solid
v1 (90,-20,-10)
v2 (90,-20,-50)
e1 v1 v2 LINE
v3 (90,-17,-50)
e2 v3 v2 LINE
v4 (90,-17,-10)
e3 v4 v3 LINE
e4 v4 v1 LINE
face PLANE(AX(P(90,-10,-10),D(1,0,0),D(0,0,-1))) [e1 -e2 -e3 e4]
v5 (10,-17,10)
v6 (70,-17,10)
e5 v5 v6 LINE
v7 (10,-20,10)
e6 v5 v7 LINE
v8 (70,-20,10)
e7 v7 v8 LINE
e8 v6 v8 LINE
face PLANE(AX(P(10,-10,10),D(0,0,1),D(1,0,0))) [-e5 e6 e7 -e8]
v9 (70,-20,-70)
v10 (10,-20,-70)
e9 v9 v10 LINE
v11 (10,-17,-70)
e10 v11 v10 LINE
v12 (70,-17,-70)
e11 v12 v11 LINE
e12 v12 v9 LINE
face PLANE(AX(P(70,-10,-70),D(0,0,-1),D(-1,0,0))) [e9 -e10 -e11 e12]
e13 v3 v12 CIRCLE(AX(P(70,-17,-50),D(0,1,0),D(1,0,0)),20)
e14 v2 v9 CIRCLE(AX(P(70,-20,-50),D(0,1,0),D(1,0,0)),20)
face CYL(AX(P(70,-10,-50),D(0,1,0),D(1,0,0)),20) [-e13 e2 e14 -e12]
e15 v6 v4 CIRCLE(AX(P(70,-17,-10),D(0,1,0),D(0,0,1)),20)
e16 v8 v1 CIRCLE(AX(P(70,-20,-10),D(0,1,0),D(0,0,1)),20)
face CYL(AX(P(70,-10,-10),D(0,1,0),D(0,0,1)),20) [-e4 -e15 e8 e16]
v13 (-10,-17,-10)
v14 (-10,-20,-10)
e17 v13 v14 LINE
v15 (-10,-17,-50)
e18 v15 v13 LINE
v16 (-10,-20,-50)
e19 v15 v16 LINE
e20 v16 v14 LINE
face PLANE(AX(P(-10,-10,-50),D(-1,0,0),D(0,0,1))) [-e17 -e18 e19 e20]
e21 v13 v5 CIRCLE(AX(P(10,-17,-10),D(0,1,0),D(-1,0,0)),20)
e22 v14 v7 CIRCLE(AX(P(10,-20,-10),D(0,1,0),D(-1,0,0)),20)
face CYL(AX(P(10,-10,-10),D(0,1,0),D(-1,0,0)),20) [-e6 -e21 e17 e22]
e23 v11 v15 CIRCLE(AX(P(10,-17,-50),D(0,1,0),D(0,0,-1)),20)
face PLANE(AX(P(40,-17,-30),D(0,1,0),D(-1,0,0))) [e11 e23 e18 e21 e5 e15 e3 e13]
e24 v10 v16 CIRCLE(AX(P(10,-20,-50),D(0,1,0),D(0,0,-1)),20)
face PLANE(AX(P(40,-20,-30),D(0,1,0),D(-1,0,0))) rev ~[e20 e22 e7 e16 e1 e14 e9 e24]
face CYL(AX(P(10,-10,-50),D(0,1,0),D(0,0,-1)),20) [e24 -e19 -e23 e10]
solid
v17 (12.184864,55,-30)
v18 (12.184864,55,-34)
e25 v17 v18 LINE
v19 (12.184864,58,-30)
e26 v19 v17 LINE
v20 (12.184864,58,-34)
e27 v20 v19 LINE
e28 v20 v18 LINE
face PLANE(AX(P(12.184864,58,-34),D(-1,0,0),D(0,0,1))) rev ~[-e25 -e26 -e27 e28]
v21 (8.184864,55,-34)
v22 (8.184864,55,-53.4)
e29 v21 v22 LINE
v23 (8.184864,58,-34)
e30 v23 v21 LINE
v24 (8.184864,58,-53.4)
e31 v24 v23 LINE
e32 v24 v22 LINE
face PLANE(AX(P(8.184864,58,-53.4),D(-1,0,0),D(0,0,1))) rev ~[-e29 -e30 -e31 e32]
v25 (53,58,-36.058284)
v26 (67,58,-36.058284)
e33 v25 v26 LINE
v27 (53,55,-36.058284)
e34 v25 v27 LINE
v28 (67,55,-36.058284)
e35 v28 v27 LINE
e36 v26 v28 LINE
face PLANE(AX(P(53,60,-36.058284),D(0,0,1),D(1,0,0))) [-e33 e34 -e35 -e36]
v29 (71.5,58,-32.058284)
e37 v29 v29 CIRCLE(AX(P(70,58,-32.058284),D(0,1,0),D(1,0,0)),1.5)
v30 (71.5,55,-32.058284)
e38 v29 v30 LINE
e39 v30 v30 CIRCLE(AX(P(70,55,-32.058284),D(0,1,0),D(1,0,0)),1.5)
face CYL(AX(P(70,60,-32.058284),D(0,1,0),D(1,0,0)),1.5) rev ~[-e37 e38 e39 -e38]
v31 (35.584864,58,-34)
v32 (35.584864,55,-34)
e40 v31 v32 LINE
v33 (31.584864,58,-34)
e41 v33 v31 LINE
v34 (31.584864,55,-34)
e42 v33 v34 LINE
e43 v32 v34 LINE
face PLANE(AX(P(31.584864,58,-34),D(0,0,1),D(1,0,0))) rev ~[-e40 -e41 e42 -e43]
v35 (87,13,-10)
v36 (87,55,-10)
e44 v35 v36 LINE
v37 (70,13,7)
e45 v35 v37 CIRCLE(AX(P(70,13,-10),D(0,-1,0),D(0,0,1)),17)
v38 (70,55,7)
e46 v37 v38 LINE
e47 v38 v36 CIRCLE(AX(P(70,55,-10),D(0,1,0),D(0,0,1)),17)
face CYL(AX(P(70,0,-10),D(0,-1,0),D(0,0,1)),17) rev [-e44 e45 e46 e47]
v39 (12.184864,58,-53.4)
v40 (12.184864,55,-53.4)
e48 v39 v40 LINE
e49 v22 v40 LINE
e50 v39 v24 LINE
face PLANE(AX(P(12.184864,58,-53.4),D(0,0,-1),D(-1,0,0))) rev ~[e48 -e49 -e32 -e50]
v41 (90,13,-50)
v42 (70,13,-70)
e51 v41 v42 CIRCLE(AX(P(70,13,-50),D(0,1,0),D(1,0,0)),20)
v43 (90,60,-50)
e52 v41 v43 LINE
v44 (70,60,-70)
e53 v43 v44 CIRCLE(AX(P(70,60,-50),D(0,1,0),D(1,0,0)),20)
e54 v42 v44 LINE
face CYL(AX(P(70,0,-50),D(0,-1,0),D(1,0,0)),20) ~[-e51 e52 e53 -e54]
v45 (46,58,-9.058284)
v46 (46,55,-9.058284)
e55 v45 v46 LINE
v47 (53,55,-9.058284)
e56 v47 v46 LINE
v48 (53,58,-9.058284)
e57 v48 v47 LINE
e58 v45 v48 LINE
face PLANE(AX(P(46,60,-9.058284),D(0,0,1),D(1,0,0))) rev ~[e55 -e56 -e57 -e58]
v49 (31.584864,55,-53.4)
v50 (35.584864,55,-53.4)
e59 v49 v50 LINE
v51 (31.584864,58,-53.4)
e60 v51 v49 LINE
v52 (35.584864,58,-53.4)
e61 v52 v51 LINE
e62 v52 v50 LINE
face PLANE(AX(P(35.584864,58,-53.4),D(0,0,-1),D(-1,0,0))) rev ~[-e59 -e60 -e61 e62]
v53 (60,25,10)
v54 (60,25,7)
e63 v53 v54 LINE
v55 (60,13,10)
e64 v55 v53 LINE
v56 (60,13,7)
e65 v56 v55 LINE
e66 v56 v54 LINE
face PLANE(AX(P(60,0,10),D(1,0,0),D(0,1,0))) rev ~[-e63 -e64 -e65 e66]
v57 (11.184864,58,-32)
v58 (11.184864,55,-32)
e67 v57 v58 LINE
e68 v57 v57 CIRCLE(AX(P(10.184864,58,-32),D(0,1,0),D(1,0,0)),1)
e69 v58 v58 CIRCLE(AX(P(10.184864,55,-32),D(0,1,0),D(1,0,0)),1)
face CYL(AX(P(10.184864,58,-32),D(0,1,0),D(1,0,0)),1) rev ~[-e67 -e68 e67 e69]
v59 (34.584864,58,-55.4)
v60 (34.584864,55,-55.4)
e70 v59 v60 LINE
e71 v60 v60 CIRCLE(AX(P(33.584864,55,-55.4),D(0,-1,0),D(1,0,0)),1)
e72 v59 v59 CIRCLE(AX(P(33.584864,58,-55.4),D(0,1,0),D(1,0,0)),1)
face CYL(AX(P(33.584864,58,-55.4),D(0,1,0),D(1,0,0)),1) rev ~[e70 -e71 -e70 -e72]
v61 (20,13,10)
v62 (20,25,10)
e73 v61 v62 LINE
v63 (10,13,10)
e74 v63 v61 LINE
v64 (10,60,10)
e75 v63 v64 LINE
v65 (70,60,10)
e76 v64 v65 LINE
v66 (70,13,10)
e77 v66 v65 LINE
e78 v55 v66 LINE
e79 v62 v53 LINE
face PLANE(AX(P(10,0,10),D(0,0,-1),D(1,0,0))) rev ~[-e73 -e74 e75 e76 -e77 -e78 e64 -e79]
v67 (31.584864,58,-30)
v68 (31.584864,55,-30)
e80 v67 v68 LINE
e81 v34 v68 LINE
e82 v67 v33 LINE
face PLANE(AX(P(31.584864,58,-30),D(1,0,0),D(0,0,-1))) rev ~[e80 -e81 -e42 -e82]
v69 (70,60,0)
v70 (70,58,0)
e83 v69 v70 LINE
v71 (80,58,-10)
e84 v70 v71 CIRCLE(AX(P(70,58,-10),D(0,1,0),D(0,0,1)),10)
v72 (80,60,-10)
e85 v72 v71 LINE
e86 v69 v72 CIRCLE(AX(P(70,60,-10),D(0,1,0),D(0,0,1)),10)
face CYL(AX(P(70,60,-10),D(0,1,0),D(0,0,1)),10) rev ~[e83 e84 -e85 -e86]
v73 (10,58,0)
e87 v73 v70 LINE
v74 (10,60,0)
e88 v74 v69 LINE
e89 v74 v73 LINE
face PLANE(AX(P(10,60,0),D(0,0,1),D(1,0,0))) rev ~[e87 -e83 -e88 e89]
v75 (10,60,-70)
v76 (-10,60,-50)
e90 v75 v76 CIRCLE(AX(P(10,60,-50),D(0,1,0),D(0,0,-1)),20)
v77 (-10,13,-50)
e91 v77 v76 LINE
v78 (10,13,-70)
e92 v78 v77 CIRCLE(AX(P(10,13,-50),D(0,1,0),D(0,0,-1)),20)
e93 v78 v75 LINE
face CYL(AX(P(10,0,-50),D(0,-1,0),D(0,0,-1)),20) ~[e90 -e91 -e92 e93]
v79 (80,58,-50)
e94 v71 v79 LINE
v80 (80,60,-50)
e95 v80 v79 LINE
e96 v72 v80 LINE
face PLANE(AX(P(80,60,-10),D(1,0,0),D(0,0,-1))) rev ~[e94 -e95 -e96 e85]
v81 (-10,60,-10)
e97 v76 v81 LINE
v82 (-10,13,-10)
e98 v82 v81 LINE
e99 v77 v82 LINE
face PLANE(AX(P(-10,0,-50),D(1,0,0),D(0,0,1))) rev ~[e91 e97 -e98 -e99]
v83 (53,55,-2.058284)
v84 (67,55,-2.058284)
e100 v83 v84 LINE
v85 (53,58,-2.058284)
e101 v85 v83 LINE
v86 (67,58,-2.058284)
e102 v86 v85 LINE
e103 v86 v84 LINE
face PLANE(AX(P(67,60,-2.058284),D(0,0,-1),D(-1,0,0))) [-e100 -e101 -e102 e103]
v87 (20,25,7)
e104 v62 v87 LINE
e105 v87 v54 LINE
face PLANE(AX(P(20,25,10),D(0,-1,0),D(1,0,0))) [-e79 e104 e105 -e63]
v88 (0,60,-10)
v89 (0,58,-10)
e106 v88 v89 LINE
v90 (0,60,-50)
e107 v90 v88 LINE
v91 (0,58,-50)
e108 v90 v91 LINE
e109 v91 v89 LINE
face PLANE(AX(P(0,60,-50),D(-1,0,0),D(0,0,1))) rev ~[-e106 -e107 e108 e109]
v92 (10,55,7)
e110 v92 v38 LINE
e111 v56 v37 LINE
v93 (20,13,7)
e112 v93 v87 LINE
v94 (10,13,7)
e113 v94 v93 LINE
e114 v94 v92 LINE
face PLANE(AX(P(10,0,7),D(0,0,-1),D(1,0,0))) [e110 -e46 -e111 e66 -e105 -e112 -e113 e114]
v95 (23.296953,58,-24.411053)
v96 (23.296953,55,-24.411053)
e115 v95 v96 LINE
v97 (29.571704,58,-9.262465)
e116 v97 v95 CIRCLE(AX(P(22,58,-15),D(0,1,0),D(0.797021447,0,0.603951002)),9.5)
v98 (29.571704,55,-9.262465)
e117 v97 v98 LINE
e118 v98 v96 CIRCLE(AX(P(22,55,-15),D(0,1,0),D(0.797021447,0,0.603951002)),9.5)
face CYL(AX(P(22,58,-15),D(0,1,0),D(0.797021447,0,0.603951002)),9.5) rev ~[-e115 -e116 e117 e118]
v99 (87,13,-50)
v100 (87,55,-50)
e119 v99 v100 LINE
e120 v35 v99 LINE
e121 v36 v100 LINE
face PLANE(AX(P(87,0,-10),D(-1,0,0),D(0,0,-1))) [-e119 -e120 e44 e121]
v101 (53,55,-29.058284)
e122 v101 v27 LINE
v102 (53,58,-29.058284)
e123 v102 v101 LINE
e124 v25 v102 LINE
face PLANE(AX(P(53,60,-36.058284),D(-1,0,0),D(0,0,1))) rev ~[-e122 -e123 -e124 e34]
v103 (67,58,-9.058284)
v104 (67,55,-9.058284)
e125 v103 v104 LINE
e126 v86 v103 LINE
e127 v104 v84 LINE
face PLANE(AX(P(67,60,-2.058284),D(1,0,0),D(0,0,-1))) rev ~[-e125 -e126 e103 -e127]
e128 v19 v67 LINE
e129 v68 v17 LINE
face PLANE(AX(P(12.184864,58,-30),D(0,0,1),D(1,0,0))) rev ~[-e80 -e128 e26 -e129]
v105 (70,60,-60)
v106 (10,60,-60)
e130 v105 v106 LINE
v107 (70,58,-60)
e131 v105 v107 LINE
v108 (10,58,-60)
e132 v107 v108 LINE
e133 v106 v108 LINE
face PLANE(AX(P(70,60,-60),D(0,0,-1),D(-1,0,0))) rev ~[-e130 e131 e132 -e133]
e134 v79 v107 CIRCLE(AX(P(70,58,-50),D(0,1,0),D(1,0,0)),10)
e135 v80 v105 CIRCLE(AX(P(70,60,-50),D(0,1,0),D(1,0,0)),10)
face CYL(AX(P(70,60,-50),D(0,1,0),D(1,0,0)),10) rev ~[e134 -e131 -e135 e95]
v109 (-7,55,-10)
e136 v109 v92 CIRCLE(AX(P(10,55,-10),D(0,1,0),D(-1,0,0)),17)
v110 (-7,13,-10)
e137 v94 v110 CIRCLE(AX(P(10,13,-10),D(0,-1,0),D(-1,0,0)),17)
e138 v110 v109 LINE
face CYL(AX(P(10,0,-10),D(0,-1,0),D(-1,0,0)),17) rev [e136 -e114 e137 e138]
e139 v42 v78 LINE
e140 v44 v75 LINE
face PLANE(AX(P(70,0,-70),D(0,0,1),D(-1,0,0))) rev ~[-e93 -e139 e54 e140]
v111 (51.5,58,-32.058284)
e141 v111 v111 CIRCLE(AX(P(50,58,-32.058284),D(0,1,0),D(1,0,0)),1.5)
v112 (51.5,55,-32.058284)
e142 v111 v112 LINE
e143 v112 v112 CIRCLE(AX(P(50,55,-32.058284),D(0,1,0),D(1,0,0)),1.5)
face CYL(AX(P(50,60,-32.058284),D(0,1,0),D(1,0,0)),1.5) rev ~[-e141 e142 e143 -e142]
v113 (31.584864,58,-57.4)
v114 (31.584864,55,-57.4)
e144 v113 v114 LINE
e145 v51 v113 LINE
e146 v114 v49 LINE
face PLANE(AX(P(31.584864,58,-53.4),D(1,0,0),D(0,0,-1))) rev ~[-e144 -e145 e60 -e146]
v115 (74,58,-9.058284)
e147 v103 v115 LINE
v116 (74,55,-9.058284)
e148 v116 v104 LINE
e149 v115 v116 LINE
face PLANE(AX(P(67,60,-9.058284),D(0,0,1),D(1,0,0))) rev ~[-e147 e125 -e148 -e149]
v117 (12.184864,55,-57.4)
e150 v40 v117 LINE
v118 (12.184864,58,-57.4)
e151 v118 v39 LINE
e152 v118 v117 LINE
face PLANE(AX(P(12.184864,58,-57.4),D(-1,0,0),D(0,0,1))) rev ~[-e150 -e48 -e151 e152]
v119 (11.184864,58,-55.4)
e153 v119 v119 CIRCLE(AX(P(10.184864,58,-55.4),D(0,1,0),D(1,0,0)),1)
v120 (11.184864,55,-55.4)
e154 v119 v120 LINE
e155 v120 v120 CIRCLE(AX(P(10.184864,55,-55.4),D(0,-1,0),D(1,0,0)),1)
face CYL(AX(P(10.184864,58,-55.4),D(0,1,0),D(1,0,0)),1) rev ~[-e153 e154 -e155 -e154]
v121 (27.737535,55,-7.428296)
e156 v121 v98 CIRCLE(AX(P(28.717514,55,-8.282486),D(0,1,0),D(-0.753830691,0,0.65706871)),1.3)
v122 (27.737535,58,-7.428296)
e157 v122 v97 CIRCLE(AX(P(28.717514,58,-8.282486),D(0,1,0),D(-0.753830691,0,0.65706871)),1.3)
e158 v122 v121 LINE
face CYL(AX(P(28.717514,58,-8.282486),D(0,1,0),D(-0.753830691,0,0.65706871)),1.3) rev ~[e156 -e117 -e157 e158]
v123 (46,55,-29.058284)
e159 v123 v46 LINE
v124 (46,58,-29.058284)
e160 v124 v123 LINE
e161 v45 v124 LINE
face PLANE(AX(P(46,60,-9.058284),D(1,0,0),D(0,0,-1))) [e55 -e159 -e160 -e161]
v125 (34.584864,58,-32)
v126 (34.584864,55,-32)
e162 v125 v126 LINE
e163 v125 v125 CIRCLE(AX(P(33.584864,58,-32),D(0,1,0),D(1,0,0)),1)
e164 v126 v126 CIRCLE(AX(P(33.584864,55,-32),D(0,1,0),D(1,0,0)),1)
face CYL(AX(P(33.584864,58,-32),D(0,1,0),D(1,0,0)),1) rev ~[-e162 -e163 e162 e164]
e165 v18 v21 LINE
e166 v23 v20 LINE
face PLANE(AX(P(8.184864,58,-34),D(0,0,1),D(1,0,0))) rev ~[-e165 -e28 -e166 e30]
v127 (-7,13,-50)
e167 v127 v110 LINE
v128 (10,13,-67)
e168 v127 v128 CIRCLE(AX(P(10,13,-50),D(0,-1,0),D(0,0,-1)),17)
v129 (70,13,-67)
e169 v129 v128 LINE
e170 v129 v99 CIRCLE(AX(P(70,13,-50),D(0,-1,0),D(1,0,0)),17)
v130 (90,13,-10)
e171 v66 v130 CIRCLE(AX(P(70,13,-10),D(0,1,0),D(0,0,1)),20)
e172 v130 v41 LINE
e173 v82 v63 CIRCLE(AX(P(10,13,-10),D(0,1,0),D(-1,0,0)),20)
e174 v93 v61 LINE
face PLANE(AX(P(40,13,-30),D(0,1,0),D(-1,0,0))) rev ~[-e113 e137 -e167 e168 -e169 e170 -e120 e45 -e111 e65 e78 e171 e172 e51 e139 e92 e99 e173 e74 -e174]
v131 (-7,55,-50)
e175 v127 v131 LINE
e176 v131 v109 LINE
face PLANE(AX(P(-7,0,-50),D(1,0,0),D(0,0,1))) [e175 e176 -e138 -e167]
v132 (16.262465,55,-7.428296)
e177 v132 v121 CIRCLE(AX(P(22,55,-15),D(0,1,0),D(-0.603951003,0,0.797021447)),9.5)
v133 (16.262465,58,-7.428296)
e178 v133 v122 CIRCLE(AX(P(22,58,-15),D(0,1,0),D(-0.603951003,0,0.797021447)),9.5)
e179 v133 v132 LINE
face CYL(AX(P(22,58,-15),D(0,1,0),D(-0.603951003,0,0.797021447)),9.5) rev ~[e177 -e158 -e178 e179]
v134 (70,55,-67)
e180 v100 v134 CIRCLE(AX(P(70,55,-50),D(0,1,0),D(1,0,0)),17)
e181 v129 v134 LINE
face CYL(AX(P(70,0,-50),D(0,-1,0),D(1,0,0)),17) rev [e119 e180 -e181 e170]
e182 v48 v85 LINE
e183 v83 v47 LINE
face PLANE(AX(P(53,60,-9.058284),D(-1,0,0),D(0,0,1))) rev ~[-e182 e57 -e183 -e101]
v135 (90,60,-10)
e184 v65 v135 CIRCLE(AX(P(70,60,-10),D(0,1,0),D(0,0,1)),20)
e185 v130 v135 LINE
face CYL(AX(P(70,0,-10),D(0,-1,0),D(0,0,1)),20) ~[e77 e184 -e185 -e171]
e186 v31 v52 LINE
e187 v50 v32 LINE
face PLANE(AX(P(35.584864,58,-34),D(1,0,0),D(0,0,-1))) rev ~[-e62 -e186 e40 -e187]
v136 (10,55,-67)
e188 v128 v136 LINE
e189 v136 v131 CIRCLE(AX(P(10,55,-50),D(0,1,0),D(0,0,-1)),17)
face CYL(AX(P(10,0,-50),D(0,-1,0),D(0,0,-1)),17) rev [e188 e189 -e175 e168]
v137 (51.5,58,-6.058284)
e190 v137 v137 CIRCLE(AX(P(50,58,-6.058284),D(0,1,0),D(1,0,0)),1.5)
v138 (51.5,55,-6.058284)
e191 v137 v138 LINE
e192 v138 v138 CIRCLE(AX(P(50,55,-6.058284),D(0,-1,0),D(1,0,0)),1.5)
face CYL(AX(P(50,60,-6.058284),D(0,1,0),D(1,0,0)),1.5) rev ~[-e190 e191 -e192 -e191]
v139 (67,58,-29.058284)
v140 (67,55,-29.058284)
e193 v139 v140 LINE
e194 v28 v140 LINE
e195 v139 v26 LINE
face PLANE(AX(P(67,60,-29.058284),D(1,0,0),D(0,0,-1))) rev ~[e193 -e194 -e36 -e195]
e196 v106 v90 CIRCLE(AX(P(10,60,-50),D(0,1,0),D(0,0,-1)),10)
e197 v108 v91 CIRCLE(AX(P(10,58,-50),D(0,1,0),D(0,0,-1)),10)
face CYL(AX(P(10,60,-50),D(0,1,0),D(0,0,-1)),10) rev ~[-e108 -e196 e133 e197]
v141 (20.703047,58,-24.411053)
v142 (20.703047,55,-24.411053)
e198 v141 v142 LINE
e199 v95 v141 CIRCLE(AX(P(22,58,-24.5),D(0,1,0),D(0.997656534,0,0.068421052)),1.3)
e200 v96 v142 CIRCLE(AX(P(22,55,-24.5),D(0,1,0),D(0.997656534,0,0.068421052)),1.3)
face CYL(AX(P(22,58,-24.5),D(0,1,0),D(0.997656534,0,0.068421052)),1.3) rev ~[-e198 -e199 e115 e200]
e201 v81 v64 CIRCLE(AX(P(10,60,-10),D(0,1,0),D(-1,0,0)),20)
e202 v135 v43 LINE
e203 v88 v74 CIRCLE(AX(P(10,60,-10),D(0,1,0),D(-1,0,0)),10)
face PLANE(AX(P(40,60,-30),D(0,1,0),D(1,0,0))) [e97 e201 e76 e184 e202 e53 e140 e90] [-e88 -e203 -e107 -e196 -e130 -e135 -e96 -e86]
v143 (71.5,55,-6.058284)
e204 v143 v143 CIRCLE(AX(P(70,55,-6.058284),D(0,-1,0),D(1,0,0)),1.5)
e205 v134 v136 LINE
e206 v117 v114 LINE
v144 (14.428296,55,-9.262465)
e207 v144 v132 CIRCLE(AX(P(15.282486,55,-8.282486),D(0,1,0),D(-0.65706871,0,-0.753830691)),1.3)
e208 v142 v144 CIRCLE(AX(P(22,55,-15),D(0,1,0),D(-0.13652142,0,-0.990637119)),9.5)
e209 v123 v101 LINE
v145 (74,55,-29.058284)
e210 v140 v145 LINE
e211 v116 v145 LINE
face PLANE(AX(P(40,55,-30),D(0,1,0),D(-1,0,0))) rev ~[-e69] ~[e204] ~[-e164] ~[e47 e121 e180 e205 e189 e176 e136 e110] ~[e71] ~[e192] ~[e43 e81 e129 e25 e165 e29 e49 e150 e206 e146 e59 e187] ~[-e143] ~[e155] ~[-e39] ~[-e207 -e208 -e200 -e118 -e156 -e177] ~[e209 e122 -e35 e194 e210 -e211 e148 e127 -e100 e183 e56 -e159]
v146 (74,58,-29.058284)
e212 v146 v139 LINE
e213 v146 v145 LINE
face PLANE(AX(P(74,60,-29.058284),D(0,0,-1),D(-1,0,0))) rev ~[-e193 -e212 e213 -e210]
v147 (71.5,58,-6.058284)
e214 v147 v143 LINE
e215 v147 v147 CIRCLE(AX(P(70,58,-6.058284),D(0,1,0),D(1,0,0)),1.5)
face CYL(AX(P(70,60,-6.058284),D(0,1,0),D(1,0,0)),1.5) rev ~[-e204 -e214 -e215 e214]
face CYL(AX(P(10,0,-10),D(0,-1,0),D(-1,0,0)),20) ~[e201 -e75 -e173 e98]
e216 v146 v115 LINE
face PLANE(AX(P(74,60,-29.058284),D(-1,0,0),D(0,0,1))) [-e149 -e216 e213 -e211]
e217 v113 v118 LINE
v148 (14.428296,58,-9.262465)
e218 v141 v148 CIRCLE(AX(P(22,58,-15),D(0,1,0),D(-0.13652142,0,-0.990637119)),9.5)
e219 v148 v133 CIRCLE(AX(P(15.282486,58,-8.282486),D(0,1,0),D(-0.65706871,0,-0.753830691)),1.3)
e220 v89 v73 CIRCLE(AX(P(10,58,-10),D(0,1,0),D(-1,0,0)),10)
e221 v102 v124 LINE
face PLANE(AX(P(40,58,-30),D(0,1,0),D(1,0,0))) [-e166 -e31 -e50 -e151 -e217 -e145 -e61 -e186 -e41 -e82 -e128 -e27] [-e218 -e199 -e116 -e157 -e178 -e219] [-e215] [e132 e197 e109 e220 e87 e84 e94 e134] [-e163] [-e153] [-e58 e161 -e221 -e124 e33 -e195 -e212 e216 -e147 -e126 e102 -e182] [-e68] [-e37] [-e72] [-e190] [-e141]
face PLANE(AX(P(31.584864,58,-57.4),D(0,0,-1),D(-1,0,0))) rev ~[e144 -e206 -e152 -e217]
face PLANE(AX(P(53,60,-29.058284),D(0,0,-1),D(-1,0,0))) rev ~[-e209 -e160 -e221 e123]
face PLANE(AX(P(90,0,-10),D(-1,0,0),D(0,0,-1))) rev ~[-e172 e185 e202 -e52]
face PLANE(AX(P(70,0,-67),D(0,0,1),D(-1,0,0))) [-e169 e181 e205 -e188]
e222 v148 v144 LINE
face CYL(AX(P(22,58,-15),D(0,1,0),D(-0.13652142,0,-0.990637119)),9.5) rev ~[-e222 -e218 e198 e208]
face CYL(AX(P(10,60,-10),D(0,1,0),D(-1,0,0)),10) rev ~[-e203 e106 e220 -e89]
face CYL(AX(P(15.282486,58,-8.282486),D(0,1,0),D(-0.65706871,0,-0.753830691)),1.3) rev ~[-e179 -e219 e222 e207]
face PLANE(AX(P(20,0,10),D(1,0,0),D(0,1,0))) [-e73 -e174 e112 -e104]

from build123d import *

# Parameters (mm, degrees)
EXTRUDE_1_DEPTH       = 60
EXTRUDE_1_2_DEPTH     = 10
CUT_EXTRUDE_2_DEPTH   = 2
SKETCH_3_R            = 1.5
CUT_EXTRUDE_5_DEPTH   = 61
CUT_EXTRUDE_6_DEPTH   = 59
SKETCH_7_R            = 1
CUT_EXTRUDE_7_DEPTH   = 59
SKETCH_8_W            = 40
SKETCH_8_H            = 25
CUT_EXTRUDE_8_DEPTH   = 10
EXTRUDE_START         = 10
EXTRUDE_2_DEPTH       = 10
EXTRUDE_5_DEPTH       = 10
CUT_EXTRUDE_START     = -5
CUT_EXTRUDE_10_DEPTH  = 10
CUT_EXTRUDE_3_DEPTH   = 55
CUT_EXTRUDE_START_2   = 10
SKETCH_9_8_W          = 60
SKETCH_9_8_H          = 40
CUT_EXTRUDE_4_DEPTH   = 5
CUT_EXTRUDE_12_DEPTH  = 5
CUT_EXTRUDE_5_2_DEPTH = 55
CUT_EXTRUDE_6_2_DEPTH = 13
CUT_EXTRUDE_13_DEPTH  = 7
CUT_EXTRUDE_7_2_DEPTH = 17


with BuildPart() as part:
    # 草图1 → Extrude 1 (new body)
    with BuildSketch(Plane(origin=(0, 0, 0), x_dir=(1, 0, 0), z_dir=(0, 1, 0))):
        with BuildLine():
            Line((10, -10), (70, -10))
            ThreePointArc((70, -10), (84.142135624, -4.142135624), (90, 10))
            Line((90, 10), (90, 50))
            ThreePointArc((90, 50), (84.142135624, 64.142135624), (70, 70))
            Line((70, 70), (10, 70))
            ThreePointArc((10, 70), (-4.142135624, 64.142135624), (-10, 50))
            Line((-10, 50), (-10, 10))
            ThreePointArc((-10, 10), (-4.142135624, -4.142135624), (10, -10))
        make_face()
        with BuildLine():
            Line((10, 0), (70, 0))
            ThreePointArc((70, 0), (77.071067812, 2.928932188), (80, 10))
            Line((80, 10), (80, 50))
            ThreePointArc((80, 50), (77.071067812, 57.071067812), (70, 60))
            Line((70, 60), (10, 60))
            ThreePointArc((10, 60), (2.928932188, 57.071067812), (0, 50))
            Line((0, 50), (0, 10))
            ThreePointArc((0, 10), (2.928932188, 2.928932188), (10, 0))
        make_face(mode=Mode.SUBTRACT)
    extrude(amount=EXTRUDE_1_DEPTH)

    # 草图2 → Extrude 1 2 (add)
    with BuildSketch(Plane(origin=(0, 60, 0), x_dir=(1, 0, 0), z_dir=(0, 1, 0))):
        with BuildLine():
            Line((10, 0), (70, 0))
            ThreePointArc((70, 0), (77.071067812, 2.928932188), (80, 10))
            Line((80, 10), (80, 50))
            ThreePointArc((80, 50), (77.071067812, 57.071067812), (70, 60))
            Line((70, 60), (10, 60))
            ThreePointArc((10, 60), (2.928932188, 57.071067812), (0, 50))
            Line((0, 50), (0, 10))
            ThreePointArc((0, 10), (2.928932188, 2.928932188), (10, 0))
        make_face()
    extrude(amount=-EXTRUDE_1_2_DEPTH)

    # 草图2<6> → 切除-拉伸2 (cut)
    with BuildSketch(Plane(origin=(0, 60, 0), x_dir=(1, 0, 0), z_dir=(0, 1, 0))):
        with BuildLine():
            Line((10, 0), (70, 0))
            ThreePointArc((70, 0), (77.071067812, 2.928932188), (80, 10))
            Line((80, 10), (80, 50))
            ThreePointArc((80, 50), (77.071067812, 57.071067812), (70, 60))
            Line((70, 60), (10, 60))
            ThreePointArc((10, 60), (2.928932188, 57.071067812), (0, 50))
            Line((0, 50), (0, 10))
            ThreePointArc((0, 10), (2.928932188, 2.928932188), (10, 0))
        make_face()
    extrude(amount=-CUT_EXTRUDE_2_DEPTH, mode=Mode.SUBTRACT)

    # 草图3 → Cut-Extrude 5 (cut, through all)
    with BuildSketch(Plane(origin=(0, 60, 0), x_dir=(1, 0, 0), z_dir=(0, 1, 0))):
        with Locations((50, 6.058283931)):
            Circle(SKETCH_3_R)
        with Locations((70, 32.058283931)):
            Circle(SKETCH_3_R)
        with Locations((50, 32.058283931)):
            Circle(SKETCH_3_R)
        Polygon((53, 3.67004288), (53, 9.058283931), (51.136181137, 9.058283931), (46, 9.058283931), (46, 29.058283931), (51, 29.058283931), (53, 29.058283931), (53, 31), (53, 36.058283931), (67, 36.058283931), (67, 32.237823352), (67, 29.058283931), (71, 29.058283931), (74, 29.058283931), (74, 9.058283931), (71.136181137, 9.058283931), (67, 9.058283931), (67, 6.058283931), (67, 2.058283931), (53, 2.058283931), align=None)
        with Locations((70, 6.058283931)):
            Circle(SKETCH_3_R)
    extrude(amount=-CUT_EXTRUDE_5_DEPTH, mode=Mode.SUBTRACT)

    # 草图6 → Cut-Extrude 6 (cut, through all)
    with BuildSketch(Plane(origin=(0, 58, 0), x_dir=(1, 0, 0), z_dir=(0, 1, 0))):
        with BuildLine():
            ThreePointArc((23.296953494, 24.411052632), (22, 25.8), (20.703046506, 24.411052632))
            ThreePointArc((20.703046506, 24.411052632), (13.223144441, 18.635492607), (14.428296256, 9.262465477))
            ThreePointArc((14.428296256, 9.262465477), (14.363246763, 7.363246763), (16.262465477, 7.428296256))
            ThreePointArc((16.262465477, 7.428296256), (22, 5.5), (27.737534523, 7.428296256))
            ThreePointArc((27.737534523, 7.428296256), (29.636753237, 7.363246763), (29.571703744, 9.262465477))
            ThreePointArc((29.571703744, 9.262465477), (30.776855559, 18.635492607), (23.296953494, 24.411052632))
        make_face()
    extrude(amount=-CUT_EXTRUDE_6_DEPTH, mode=Mode.SUBTRACT)

    # 草图7 → Cut-Extrude 7 (cut, through all)
    with BuildSketch(Plane(origin=(0, 58, 0), x_dir=(1, 0, 0), z_dir=(0, 1, 0))):
        Polygon((31.584864034, 30), (31.584864034, 32), (31.584864034, 34), (35.584864034, 34), (35.584864034, 53.4), (31.584864034, 53.4), (31.584864034, 55.4), (31.584864034, 57.4), (12.184864034, 57.4), (12.184864034, 53.4), (10.184864034, 53.4), (8.184864034, 53.4), (8.184864034, 34), (12.184864034, 34), (12.184864034, 32), (12.184864034, 30), align=None)
        with Locations((33.584864034, 32)):
            Circle(SKETCH_7_R)
        with Locations((10.184864034, 55.4)):
            Circle(SKETCH_7_R)
        with Locations((33.584864034, 55.4)):
            Circle(SKETCH_7_R)
        with Locations((10.184864034, 32)):
            Circle(SKETCH_7_R)
    extrude(amount=-CUT_EXTRUDE_7_DEPTH, mode=Mode.SUBTRACT)

    # 草图8 → 切除-拉伸8 (cut)
    with BuildSketch(Plane.XY.offset(10)):
        with Locations((40, 12.5)):
            Rectangle(SKETCH_8_W, SKETCH_8_H)
    extrude(amount=-CUT_EXTRUDE_8_DEPTH, mode=Mode.SUBTRACT)

    # 草图2<8> → 切除-拉伸10 (cut)
    with BuildSketch(Plane(origin=(0, 60, 0), x_dir=(1, 0, 0), z_dir=(0, 1, 0)).offset(CUT_EXTRUDE_START)):
        with BuildLine():
            Line((10, 0), (70, 0))
            ThreePointArc((70, 0), (77.071067812, 2.928932188), (80, 10))
            Line((80, 10), (80, 50))
            ThreePointArc((80, 50), (77.071067812, 57.071067812), (70, 60))
            Line((70, 60), (10, 60))
            ThreePointArc((10, 60), (2.928932188, 57.071067812), (0, 50))
            Line((0, 50), (0, 10))
            ThreePointArc((0, 10), (2.928932188, 2.928932188), (10, 0))
        make_face()
    extrude(amount=-CUT_EXTRUDE_10_DEPTH, mode=Mode.SUBTRACT)

    # 草图9<7> → 切除-拉伸-薄壁3 (cut)
    with BuildSketch(Plane.XZ):
        with BuildLine():
            Line((85, -10), (85, -50))
            ThreePointArc((85, -50), (80.606601718, -60.606601718), (70, -65))
            Line((70, -65), (10, -65))
            ThreePointArc((10, -65), (-0.606601718, -60.606601718), (-5, -50))
            Line((-5, -50), (-5, -10))
            ThreePointArc((-5, -10), (-0.606601718, 0.606601718), (10, 5))
            Line((10, 5), (70, 5))
            ThreePointArc((70, 5), (80.606601718, 0.606601718), (85, -10))
        make_face()
        with BuildLine():
            Line((75, -10), (75, -50))
            ThreePointArc((75, -50), (73.535533906, -53.535533906), (70, -55))
            Line((70, -55), (10, -55))
            ThreePointArc((10, -55), (6.464466094, -53.535533906), (5, -50))
            Line((5, -50), (5, -10))
            ThreePointArc((5, -10), (6.464466094, -6.464466094), (10, -5))
            Line((10, -5), (70, -5))
            ThreePointArc((70, -5), (73.535533906, -6.464466094), (75, -10))
        make_face(mode=Mode.SUBTRACT)
    extrude(amount=-CUT_EXTRUDE_3_DEPTH, mode=Mode.SUBTRACT)

    # 草图9<10> → Cut-Extrude 5 2 (cut)
    with BuildSketch(Plane.XZ):
        with BuildLine():
            Line((87, -10), (87, -50))
            ThreePointArc((87, -50), (82.02081528, -62.02081528), (70, -67))
            Line((70, -67), (10, -67))
            ThreePointArc((10, -67), (-2.02081528, -62.02081528), (-7, -50))
            Line((-7, -50), (-7, -10))
            ThreePointArc((-7, -10), (-2.02081528, 2.02081528), (10, 7))
            Line((10, 7), (70, 7))
            ThreePointArc((70, 7), (82.02081528, 2.02081528), (87, -10))
        make_face()
        with BuildLine():
            Line((80, -10), (80, -50))
            ThreePointArc((80, -50), (77.071067812, -57.071067812), (70, -60))
            Line((70, -60), (10, -60))
            ThreePointArc((10, -60), (2.928932188, -57.071067812), (0, -50))
            Line((0, -50), (0, -10))
            ThreePointArc((0, -10), (2.928932188, -2.928932188), (10, 0))
            Line((10, 0), (70, 0))
            ThreePointArc((70, 0), (77.071067812, -2.928932188), (80, -10))
        make_face(mode=Mode.SUBTRACT)
    extrude(amount=-CUT_EXTRUDE_5_2_DEPTH, mode=Mode.SUBTRACT)

    # 草图9<11> → Cut-Extrude 6 2 (cut)
    with BuildSketch(Plane.XZ):
        with BuildLine():
            Line((90, -10), (90, -50))
            ThreePointArc((90, -50), (84.142135624, -64.142135624), (70, -70))
            Line((70, -70), (10, -70))
            ThreePointArc((10, -70), (-4.142135624, -64.142135624), (-10, -50))
            Line((-10, -50), (-10, -10))
            ThreePointArc((-10, -10), (-4.142135624, 4.142135624), (10, 10))
            Line((10, 10), (70, 10))
            ThreePointArc((70, 10), (84.142135624, 4.142135624), (90, -10))
        make_face()
        with BuildLine():
            Line((80, -10), (80, -50))
            ThreePointArc((80, -50), (77.071067812, -57.071067812), (70, -60))
            Line((70, -60), (10, -60))
            ThreePointArc((10, -60), (2.928932188, -57.071067812), (0, -50))
            Line((0, -50), (0, -10))
            ThreePointArc((0, -10), (2.928932188, -2.928932188), (10, 0))
            Line((10, 0), (70, 0))
            ThreePointArc((70, 0), (77.071067812, -2.928932188), (80, -10))
        make_face(mode=Mode.SUBTRACT)
    extrude(amount=-CUT_EXTRUDE_6_2_DEPTH, mode=Mode.SUBTRACT)


with BuildPart() as body_2:
    # 草图9 → 凸台-拉伸2 (new body)
    with BuildSketch(Plane.XZ.offset(EXTRUDE_START)):
        with BuildLine():
            Line((10, 0), (70, 0))
            ThreePointArc((70, 0), (77.071067812, -2.928932188), (80, -10))
            Line((80, -10), (80, -50))
            ThreePointArc((80, -50), (77.071067812, -57.071067812), (70, -60))
            Line((70, -60), (10, -60))
            ThreePointArc((10, -60), (2.928932188, -57.071067812), (0, -50))
            Line((0, -50), (0, -10))
            ThreePointArc((0, -10), (2.928932188, -2.928932188), (10, 0))
        make_face()
    extrude(amount=EXTRUDE_2_DEPTH)

    # 草图10 → 拉伸-薄壁5 (add)
    with BuildSketch(Plane.XZ.offset(EXTRUDE_START)):
        with BuildLine():
            Line((10, 10), (70, 10))
            ThreePointArc((70, 10), (84.142135624, 4.142135624), (90, -10))
            Line((90, -10), (90, -50))
            ThreePointArc((90, -50), (84.142135624, -64.142135624), (70, -70))
            Line((70, -70), (10, -70))
            ThreePointArc((10, -70), (-4.142135624, -64.142135624), (-10, -50))
            Line((-10, -50), (-10, -10))
            ThreePointArc((-10, -10), (-4.142135624, 4.142135624), (10, 10))
        make_face()
        with BuildLine():
            Line((10, 0), (70, 0))
            ThreePointArc((70, 0), (77.071067812, -2.928932188), (80, -10))
            Line((80, -10), (80, -50))
            ThreePointArc((80, -50), (77.071067812, -57.071067812), (70, -60))
            Line((70, -60), (10, -60))
            ThreePointArc((10, -60), (2.928932188, -57.071067812), (0, -50))
            Line((0, -50), (0, -10))
            ThreePointArc((0, -10), (2.928932188, -2.928932188), (10, 0))
        make_face(mode=Mode.SUBTRACT)
    extrude(amount=EXTRUDE_5_DEPTH)

    # 草图9<8> → 切除-拉伸-薄壁4 (cut)
    with BuildSketch(Plane.XZ.offset(CUT_EXTRUDE_START_2)):
        with BuildLine():
            Line((90, -10), (90, -50))
            ThreePointArc((90, -50), (84.142135624, -64.142135624), (70, -70))
            Line((70, -70), (10, -70))
            ThreePointArc((10, -70), (-4.142135624, -64.142135624), (-10, -50))
            Line((-10, -50), (-10, -10))
            ThreePointArc((-10, -10), (-4.142135624, 4.142135624), (10, 10))
            Line((10, 10), (70, 10))
            ThreePointArc((70, 10), (84.142135624, 4.142135624), (90, -10))
        make_face()
        with Locations((40, -30)):
            Rectangle(SKETCH_9_8_W, SKETCH_9_8_H, mode=Mode.SUBTRACT)
    extrude(amount=CUT_EXTRUDE_4_DEPTH, mode=Mode.SUBTRACT)

    # 草图9<9> → 切除-拉伸12 (cut)
    with BuildSketch(Plane.XZ.offset(CUT_EXTRUDE_START_2)):
        with BuildLine():
            Line((10, 0), (70, 0))
            ThreePointArc((70, 0), (77.071067812, -2.928932188), (80, -10))
            Line((80, -10), (80, -50))
            ThreePointArc((80, -50), (77.071067812, -57.071067812), (70, -60))
            Line((70, -60), (10, -60))
            ThreePointArc((10, -60), (2.928932188, -57.071067812), (0, -50))
            Line((0, -50), (0, -10))
            ThreePointArc((0, -10), (2.928932188, -2.928932188), (10, 0))
        make_face()
    extrude(amount=CUT_EXTRUDE_12_DEPTH, mode=Mode.SUBTRACT)

    # 草图9<12> → 切除-拉伸13 (cut)
    with BuildSketch(Plane.XZ.offset(CUT_EXTRUDE_START_2)):
        with BuildLine():
            Line((10, 0), (70, 0))
            ThreePointArc((70, 0), (77.071067812, -2.928932188), (80, -10))
            Line((80, -10), (80, -50))
            ThreePointArc((80, -50), (77.071067812, -57.071067812), (70, -60))
            Line((70, -60), (10, -60))
            ThreePointArc((10, -60), (2.928932188, -57.071067812), (0, -50))
            Line((0, -50), (0, -10))
            ThreePointArc((0, -10), (2.928932188, -2.928932188), (10, 0))
        make_face()
    extrude(amount=CUT_EXTRUDE_13_DEPTH, mode=Mode.SUBTRACT)

    # 草图9<13> → Cut-Extrude 7 2 (cut)
    with BuildSketch(Plane.XZ):
        with BuildLine():
            Line((90, -10), (90, -50))
            ThreePointArc((90, -50), (84.142135624, -64.142135624), (70, -70))
            Line((70, -70), (10, -70))
            ThreePointArc((10, -70), (-4.142135624, -64.142135624), (-10, -50))
            Line((-10, -50), (-10, -10))
            ThreePointArc((-10, -10), (-4.142135624, 4.142135624), (10, 10))
            Line((10, 10), (70, 10))
            ThreePointArc((70, 10), (84.142135624, 4.142135624), (90, -10))
        make_face()
        with BuildLine():
            Line((80, -10), (80, -50))
            ThreePointArc((80, -50), (77.071067812, -57.071067812), (70, -60))
            Line((70, -60), (10, -60))
            ThreePointArc((10, -60), (2.928932188, -57.071067812), (0, -50))
            Line((0, -50), (0, -10))
            ThreePointArc((0, -10), (2.928932188, -2.928932188), (10, 0))
            Line((10, 0), (70, 0))
            ThreePointArc((70, 0), (77.071067812, -2.928932188), (80, -10))
        make_face(mode=Mode.SUBTRACT)
    extrude(amount=CUT_EXTRUDE_7_2_DEPTH, mode=Mode.SUBTRACT)


solid = Compound([part.part, body_2.part])
